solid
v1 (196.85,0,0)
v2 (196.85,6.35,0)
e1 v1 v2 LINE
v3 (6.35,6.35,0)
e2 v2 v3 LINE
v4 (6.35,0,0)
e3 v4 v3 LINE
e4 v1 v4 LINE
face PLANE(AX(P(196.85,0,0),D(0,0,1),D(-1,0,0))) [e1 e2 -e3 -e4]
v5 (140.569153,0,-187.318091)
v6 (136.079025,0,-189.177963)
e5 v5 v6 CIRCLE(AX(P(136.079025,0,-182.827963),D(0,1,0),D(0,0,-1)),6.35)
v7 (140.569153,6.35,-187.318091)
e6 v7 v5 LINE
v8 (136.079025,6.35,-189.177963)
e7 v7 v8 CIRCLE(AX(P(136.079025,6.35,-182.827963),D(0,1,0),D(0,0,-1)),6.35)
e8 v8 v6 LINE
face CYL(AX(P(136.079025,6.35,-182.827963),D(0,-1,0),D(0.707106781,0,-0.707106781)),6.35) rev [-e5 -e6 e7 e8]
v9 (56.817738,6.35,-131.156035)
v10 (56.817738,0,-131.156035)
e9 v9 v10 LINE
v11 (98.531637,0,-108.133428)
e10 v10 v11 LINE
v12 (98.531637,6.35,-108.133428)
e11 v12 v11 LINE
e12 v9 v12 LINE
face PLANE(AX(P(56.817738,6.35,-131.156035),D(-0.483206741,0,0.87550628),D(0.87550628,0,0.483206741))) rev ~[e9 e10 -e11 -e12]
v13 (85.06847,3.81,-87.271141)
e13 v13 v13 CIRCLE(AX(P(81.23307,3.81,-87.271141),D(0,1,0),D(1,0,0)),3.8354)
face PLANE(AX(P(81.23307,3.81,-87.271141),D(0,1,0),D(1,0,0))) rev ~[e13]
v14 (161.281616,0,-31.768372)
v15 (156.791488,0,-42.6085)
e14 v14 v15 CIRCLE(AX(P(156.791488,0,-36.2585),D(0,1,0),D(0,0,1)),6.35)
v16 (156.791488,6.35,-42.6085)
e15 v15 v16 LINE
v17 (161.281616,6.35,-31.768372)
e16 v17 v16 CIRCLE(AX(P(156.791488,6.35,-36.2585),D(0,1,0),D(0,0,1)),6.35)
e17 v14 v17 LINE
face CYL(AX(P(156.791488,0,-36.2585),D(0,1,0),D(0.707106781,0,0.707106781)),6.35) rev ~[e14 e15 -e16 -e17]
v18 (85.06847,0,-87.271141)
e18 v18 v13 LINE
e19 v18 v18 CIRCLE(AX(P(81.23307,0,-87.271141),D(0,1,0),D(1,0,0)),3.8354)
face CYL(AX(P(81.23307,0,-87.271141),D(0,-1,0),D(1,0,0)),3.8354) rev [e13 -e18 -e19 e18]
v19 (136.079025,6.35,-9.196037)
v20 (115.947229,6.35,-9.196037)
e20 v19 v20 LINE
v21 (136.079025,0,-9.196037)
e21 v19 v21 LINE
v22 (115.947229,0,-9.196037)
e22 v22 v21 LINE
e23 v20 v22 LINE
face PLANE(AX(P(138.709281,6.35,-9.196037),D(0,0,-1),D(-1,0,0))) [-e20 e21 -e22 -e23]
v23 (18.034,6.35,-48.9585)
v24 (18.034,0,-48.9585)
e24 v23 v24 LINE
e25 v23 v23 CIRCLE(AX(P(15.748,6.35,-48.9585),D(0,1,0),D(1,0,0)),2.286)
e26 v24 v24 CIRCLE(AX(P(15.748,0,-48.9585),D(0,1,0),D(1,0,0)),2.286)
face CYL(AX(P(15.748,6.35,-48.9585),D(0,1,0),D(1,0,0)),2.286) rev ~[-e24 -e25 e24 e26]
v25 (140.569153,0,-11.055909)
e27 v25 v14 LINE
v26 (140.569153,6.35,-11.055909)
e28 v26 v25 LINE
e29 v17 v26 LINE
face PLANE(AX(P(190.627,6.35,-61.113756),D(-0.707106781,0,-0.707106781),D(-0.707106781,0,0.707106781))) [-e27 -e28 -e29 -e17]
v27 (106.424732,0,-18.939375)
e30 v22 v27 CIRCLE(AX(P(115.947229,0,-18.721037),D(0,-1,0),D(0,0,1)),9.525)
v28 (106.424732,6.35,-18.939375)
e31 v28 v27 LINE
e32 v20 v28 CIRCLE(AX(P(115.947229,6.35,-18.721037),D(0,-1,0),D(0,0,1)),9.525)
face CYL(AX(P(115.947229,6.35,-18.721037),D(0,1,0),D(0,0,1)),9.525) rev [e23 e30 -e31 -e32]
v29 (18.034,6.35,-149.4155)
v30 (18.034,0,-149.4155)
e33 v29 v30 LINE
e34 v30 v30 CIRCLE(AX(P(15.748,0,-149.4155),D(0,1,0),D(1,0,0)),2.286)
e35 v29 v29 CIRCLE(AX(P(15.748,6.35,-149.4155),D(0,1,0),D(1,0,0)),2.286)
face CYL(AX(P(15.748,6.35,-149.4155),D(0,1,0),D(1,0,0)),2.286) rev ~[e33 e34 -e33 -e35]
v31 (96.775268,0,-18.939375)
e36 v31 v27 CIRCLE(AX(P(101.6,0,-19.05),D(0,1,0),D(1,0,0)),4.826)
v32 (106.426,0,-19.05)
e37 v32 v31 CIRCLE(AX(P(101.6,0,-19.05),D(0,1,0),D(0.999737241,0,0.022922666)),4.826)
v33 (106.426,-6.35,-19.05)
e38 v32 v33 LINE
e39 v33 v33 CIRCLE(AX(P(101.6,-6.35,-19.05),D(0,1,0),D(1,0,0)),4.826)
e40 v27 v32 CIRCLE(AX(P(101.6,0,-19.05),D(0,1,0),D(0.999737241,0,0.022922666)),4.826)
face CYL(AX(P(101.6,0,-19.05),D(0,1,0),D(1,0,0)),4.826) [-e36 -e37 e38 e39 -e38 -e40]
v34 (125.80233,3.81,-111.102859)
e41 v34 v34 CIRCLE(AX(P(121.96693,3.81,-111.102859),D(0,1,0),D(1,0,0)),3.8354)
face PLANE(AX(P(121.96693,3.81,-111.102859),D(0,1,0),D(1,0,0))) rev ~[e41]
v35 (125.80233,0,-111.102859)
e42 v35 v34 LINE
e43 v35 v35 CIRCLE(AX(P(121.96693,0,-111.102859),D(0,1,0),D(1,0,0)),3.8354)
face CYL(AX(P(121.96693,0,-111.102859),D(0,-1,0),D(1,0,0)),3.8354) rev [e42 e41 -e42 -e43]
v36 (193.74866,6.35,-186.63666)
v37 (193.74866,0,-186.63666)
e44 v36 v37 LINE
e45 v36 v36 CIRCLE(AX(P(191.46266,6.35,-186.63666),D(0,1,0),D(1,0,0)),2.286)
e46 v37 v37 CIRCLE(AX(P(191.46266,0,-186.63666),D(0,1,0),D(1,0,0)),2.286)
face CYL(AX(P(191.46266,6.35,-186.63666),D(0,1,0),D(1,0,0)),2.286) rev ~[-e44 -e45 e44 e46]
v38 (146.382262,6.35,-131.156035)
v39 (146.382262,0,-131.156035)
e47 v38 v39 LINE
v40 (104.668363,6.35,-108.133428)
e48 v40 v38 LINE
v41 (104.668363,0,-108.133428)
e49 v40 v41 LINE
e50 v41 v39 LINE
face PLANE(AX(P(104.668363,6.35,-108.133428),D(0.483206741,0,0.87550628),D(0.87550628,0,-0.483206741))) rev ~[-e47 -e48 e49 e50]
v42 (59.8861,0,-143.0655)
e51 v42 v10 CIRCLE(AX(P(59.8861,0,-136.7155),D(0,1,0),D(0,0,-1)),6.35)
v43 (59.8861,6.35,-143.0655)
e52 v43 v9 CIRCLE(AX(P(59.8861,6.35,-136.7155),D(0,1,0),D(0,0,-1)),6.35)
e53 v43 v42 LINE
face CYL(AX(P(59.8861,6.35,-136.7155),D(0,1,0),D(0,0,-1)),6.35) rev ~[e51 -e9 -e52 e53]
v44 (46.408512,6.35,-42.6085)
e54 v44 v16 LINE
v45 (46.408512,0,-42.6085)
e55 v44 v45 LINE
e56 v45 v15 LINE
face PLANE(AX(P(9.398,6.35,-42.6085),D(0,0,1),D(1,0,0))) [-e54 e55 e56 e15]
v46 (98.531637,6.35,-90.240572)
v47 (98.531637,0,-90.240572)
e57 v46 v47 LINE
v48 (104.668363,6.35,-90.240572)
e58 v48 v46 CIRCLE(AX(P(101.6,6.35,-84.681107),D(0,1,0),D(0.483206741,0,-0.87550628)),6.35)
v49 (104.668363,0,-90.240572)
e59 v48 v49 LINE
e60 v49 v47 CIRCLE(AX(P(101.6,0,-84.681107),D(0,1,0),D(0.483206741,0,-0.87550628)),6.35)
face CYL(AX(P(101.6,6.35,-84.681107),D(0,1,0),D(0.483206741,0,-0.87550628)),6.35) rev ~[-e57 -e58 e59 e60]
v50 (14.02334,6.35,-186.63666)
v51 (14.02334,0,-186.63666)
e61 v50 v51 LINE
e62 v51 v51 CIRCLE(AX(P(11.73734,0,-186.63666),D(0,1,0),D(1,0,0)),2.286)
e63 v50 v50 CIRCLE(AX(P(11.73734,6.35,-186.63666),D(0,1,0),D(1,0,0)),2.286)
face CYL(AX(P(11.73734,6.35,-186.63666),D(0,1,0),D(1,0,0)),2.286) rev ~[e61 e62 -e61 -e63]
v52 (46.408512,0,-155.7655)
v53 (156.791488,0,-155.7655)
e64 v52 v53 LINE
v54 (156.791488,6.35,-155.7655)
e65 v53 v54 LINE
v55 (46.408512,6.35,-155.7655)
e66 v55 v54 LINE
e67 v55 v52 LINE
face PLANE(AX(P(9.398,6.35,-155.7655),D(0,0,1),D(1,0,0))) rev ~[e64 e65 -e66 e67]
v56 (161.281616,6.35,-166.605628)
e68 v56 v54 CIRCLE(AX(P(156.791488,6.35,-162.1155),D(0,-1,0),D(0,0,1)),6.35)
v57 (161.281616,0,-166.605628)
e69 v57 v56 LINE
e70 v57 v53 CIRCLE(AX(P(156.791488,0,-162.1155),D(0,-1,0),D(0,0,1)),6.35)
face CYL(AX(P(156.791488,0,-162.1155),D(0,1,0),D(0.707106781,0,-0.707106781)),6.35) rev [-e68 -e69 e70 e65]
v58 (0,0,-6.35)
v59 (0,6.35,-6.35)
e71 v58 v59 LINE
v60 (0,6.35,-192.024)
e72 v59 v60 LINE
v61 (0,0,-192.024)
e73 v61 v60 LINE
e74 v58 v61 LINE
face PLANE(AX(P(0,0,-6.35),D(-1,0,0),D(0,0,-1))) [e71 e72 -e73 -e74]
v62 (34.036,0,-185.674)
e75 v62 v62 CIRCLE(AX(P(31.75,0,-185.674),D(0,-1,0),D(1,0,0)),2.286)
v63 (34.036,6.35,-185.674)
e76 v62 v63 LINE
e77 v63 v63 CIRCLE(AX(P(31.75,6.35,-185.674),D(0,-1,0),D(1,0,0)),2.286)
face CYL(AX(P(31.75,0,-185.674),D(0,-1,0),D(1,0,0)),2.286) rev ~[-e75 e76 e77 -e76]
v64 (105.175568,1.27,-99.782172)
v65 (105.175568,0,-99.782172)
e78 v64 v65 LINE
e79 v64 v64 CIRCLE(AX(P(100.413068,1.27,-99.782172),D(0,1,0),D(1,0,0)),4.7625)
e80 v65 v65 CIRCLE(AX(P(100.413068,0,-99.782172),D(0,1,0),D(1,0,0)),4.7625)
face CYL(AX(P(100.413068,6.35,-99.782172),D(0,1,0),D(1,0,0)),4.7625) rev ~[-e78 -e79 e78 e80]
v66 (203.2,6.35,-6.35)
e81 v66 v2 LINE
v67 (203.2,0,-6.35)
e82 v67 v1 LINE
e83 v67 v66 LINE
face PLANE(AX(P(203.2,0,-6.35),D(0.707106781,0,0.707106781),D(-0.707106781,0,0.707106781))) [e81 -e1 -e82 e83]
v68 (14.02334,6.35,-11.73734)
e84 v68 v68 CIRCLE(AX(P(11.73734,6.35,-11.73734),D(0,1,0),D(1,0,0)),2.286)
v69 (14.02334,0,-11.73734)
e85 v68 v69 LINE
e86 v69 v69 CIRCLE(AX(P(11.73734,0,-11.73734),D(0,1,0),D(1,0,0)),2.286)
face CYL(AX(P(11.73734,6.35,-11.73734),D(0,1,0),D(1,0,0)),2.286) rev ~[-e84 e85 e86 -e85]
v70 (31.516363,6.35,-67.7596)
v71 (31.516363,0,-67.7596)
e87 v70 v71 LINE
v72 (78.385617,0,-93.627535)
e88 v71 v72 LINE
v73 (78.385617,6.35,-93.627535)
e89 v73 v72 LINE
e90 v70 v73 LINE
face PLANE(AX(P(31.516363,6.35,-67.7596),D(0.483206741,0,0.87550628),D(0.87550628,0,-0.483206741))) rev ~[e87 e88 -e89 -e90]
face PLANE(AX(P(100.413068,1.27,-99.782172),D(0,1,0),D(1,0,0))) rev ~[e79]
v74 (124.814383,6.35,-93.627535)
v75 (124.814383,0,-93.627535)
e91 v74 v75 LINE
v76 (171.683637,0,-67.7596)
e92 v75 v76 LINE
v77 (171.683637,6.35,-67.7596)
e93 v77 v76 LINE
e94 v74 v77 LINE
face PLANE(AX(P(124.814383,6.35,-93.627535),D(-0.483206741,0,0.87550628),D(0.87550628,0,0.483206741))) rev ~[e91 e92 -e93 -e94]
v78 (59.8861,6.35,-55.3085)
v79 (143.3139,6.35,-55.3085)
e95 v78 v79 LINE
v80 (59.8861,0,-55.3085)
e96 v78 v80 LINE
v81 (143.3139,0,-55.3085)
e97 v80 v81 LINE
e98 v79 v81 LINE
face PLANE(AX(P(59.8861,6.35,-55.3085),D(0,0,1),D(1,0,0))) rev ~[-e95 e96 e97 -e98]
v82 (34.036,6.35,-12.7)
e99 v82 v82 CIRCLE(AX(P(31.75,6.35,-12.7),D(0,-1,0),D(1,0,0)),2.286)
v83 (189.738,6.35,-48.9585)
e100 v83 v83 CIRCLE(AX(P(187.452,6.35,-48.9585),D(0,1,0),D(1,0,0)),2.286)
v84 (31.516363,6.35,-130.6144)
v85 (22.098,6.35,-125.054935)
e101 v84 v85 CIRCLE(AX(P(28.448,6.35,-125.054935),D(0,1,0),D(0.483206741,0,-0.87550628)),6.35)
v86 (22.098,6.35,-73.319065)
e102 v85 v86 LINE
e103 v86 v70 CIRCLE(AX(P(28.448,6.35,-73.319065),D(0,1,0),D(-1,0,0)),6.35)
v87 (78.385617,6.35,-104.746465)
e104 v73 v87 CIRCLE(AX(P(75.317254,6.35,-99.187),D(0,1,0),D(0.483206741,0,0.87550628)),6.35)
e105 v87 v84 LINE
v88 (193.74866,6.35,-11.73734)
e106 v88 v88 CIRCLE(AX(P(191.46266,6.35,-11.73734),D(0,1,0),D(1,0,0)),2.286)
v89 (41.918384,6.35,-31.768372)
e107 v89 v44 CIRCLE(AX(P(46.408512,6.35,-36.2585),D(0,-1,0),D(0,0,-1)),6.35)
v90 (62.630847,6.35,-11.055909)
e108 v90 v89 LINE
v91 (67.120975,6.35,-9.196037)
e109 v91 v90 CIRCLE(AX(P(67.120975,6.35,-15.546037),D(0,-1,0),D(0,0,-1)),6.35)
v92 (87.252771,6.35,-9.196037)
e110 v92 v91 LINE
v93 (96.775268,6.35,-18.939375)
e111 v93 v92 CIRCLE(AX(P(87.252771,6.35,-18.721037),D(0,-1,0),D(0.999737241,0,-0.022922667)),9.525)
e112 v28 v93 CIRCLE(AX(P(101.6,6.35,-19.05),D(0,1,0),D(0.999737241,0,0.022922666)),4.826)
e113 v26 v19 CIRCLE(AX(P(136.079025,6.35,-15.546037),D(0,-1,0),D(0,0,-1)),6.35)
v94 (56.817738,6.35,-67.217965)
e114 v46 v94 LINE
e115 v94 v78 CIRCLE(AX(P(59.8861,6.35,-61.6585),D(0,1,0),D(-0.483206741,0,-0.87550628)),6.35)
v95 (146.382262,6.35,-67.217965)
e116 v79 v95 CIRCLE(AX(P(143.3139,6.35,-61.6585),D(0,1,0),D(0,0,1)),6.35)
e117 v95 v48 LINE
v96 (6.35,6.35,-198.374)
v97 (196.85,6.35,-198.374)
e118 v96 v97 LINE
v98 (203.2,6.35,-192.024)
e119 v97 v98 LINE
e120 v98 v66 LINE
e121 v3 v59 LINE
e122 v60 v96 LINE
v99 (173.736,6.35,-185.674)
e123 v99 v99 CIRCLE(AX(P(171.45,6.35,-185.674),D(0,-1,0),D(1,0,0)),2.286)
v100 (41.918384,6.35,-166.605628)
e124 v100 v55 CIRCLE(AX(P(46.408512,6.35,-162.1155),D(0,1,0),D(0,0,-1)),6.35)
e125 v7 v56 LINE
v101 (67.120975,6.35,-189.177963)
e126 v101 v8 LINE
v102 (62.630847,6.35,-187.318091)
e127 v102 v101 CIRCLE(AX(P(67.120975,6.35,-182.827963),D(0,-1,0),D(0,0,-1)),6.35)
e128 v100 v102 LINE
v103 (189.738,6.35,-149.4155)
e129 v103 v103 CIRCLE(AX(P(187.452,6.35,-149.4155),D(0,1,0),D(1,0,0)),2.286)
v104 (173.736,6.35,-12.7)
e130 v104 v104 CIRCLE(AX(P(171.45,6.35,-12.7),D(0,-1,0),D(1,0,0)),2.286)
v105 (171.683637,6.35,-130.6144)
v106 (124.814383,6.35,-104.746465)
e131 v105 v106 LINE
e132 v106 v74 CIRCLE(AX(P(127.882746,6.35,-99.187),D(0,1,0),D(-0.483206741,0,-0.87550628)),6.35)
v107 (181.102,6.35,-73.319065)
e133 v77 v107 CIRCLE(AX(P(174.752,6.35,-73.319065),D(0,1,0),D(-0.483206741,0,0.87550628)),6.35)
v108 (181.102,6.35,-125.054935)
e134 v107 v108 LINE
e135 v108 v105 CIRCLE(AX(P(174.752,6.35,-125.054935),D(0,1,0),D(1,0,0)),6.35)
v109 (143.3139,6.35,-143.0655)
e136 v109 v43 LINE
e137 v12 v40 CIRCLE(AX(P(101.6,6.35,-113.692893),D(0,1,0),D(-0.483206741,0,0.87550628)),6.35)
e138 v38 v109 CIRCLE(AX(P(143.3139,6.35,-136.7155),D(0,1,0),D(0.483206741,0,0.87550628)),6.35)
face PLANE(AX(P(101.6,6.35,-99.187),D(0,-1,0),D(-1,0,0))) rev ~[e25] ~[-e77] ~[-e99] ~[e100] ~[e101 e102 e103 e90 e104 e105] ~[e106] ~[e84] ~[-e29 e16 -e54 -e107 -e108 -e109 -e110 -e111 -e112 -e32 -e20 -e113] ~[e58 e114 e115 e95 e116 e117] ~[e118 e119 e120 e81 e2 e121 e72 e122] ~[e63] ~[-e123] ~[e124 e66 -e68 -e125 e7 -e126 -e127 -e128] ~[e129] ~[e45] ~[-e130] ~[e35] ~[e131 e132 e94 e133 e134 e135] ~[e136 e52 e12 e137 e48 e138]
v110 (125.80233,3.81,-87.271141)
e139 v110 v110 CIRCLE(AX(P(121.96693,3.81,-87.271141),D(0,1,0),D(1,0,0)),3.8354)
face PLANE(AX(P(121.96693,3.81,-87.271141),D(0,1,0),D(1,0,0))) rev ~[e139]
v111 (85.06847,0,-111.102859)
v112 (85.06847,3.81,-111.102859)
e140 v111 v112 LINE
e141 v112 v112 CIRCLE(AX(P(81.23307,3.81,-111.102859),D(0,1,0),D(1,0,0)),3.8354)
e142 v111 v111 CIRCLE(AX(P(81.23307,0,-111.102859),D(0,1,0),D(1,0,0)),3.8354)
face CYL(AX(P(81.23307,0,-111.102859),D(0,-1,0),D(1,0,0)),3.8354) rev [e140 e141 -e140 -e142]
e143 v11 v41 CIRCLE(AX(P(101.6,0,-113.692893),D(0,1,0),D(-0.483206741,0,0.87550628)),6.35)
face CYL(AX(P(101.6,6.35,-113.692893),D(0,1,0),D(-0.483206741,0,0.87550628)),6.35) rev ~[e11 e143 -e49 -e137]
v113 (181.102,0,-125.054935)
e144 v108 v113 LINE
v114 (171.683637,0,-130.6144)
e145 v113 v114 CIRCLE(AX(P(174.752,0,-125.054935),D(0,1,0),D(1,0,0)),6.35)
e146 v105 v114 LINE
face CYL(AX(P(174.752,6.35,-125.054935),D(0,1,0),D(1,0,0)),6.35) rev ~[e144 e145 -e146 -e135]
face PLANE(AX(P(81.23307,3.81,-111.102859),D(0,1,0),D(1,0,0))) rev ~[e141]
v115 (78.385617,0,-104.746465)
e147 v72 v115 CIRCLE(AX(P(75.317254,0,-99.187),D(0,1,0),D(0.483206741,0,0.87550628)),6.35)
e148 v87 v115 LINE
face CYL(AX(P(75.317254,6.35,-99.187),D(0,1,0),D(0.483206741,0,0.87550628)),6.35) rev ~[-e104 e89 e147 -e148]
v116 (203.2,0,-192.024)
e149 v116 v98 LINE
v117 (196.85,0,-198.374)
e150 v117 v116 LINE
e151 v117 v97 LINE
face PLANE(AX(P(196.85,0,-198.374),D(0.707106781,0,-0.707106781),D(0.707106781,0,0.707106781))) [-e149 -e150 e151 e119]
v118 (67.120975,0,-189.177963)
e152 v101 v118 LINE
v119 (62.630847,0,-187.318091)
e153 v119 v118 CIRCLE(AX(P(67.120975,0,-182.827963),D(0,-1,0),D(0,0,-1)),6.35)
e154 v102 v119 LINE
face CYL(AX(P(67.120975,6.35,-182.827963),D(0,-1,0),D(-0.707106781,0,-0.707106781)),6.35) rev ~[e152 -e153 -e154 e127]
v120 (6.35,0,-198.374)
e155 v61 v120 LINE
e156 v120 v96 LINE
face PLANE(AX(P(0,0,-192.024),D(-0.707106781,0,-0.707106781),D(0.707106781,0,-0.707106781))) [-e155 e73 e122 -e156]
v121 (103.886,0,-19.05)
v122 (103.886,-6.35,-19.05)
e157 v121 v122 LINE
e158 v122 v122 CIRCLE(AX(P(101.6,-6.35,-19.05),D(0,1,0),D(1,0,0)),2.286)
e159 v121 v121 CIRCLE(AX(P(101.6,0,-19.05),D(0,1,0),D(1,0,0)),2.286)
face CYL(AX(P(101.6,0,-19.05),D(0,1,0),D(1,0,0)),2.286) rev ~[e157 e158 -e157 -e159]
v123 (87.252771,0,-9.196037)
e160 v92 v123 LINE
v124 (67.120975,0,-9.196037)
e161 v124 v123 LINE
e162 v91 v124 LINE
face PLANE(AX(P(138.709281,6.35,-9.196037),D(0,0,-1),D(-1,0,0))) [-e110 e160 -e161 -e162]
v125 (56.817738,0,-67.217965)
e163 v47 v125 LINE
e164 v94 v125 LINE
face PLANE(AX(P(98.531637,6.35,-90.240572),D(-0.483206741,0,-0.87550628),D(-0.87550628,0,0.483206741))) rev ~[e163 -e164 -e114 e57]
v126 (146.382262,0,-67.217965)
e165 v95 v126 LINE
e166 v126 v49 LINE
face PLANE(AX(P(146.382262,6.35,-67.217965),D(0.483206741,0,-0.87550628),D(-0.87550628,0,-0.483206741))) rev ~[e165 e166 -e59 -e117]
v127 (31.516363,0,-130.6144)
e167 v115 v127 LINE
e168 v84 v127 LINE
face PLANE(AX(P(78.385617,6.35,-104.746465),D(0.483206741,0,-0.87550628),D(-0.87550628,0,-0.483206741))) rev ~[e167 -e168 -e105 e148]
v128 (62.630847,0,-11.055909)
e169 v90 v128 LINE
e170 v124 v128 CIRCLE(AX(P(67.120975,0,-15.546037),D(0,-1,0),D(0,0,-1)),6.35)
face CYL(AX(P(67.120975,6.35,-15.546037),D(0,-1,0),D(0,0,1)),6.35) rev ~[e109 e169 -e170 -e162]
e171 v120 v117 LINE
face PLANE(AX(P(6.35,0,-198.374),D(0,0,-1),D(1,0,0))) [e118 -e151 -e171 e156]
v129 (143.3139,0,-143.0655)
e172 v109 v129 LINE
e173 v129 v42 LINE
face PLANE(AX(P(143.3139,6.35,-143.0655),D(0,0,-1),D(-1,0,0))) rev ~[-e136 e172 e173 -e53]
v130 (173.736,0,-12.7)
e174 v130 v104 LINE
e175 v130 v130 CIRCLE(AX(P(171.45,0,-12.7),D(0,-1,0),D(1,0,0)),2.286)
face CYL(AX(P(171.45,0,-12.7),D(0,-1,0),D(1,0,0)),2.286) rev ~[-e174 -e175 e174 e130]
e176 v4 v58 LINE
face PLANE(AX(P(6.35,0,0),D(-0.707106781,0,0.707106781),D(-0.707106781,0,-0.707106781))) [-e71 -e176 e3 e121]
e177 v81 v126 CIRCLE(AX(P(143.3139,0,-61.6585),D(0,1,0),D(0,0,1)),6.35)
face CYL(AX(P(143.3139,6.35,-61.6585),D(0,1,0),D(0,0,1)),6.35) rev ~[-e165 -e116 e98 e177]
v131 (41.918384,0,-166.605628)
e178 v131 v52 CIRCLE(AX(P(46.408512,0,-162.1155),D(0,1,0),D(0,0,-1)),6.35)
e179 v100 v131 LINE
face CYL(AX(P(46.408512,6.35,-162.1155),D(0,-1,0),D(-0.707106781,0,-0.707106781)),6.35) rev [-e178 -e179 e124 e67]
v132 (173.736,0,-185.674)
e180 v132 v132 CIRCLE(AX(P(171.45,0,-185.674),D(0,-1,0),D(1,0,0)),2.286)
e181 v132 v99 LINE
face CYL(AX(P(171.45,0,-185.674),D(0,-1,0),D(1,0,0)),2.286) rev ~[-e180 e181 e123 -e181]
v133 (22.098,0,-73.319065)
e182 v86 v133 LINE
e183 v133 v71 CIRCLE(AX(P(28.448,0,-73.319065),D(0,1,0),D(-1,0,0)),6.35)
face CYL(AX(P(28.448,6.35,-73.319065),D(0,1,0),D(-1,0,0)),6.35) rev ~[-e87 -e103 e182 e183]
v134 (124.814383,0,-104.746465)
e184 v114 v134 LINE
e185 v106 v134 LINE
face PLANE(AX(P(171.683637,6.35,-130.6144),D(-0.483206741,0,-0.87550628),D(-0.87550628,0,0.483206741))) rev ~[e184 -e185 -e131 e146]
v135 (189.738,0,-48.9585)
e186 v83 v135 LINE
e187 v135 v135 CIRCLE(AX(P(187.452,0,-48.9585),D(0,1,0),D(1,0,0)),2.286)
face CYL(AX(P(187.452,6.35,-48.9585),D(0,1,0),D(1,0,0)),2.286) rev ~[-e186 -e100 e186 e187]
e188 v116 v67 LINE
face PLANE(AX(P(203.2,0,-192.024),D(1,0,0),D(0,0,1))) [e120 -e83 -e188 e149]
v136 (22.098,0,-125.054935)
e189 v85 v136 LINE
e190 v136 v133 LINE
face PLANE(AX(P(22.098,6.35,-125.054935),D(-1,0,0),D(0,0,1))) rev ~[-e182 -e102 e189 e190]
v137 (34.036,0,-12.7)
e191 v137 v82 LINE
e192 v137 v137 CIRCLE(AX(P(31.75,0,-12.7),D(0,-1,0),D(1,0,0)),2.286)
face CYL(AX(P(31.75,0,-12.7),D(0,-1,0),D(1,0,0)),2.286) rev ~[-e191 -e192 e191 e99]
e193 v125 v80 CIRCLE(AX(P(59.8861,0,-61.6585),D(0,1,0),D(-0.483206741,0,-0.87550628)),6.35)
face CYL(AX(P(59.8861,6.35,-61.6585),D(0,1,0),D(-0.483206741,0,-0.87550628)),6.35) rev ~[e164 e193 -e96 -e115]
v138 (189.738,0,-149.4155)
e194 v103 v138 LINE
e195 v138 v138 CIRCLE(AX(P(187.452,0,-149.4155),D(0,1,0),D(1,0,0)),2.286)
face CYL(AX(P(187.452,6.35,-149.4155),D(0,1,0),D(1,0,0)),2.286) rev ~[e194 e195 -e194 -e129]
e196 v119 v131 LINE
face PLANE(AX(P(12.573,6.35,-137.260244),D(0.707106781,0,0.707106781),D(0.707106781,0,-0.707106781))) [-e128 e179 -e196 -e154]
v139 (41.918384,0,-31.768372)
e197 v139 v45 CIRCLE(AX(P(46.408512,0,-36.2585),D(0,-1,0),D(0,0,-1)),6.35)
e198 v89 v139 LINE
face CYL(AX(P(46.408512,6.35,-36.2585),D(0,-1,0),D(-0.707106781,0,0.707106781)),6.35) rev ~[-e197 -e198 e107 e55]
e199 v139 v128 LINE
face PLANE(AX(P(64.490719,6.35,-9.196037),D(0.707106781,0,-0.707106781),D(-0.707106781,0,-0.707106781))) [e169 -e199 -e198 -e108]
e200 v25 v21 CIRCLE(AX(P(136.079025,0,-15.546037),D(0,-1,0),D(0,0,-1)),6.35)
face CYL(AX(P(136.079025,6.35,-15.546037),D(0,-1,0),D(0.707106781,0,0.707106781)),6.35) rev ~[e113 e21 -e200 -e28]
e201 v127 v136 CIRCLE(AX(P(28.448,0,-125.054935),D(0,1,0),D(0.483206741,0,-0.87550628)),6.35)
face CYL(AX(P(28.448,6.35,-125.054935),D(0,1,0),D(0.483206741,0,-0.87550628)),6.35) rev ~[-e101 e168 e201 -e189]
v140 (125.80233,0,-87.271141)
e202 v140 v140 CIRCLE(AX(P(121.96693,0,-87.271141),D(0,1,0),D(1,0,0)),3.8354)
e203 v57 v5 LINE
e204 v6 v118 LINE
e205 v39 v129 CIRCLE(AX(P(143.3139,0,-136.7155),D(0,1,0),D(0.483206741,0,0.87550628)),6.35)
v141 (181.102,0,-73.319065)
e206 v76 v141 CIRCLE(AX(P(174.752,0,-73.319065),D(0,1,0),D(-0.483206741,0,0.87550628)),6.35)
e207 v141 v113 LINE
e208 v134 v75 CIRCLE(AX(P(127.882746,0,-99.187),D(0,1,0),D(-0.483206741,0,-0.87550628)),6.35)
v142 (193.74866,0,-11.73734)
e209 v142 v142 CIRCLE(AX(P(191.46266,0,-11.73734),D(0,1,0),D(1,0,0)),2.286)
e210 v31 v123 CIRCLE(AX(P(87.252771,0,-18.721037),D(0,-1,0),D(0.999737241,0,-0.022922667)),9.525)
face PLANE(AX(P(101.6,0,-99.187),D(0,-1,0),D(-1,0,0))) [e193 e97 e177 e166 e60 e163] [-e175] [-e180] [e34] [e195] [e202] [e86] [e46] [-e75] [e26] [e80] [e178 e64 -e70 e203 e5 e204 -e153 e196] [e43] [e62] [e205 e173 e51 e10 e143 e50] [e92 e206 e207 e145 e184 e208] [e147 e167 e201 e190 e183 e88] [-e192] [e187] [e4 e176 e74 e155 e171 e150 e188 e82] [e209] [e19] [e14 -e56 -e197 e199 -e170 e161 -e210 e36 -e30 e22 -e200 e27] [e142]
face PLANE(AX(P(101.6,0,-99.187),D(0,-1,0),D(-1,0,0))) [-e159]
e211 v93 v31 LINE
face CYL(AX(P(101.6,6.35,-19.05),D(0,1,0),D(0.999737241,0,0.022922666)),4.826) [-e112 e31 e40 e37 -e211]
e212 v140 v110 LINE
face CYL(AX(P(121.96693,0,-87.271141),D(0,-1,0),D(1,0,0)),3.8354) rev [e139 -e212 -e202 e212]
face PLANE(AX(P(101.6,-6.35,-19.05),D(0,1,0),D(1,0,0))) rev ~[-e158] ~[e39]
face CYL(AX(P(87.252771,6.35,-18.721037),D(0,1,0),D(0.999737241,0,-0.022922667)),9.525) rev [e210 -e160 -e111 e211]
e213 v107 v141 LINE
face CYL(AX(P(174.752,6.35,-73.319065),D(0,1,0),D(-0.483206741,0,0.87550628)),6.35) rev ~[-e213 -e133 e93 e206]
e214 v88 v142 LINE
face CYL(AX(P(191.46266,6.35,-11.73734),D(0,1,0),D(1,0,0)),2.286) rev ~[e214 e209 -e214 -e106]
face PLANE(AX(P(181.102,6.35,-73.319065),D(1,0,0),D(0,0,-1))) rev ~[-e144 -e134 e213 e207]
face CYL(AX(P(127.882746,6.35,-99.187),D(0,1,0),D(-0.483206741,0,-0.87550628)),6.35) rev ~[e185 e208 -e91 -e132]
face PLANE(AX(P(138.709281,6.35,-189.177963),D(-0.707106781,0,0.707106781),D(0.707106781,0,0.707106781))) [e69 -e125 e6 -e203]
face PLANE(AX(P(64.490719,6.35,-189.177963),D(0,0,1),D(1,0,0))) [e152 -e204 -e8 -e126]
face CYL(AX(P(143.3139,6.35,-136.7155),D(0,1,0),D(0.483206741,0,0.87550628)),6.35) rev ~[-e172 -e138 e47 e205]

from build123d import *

# Parameters (mm, degrees)
BOSS_EXTRUDE1_DEPTH     = 6.35
SKETCH3_R               = 2.286
CUT_EXTRUDE2_DEPTH      = 7.35
SKETCH4_R               = 2.286
CUT_EXTRUDE3_DEPTH      = 7.35
SKETCH5_W               = 184.404
SKETCH5_H               = 113.157
SKETCH5_R               = 2.286
BOSS_EXTRUDE2_DEPTH     = 6.35
FILLET1_R               = 6.35
BOSS_EXTRUDE3_DEPTH     = 6.35
SKETCH8_R               = 4.826
SKETCH8_R_2             = 2.286
BOSS_EXTRUDE4_DEPTH     = 6.35
SKETCH9_R               = 3.8354
CUT_EXTRUDE4_DEPTH      = 3.81
SKETCH11_R              = 2.286
CUT_EXTRUDE6_DEPTH      = 7.35
CUT_EXTRUDE6_DEPTH_BACK = 7.35
SKETCH12_R              = 4.7625
CUT_EXTRUDE7_DEPTH      = 6.35
SKETCH16_W              = 12.7
SKETCH16_H              = 12.7
BOSS_EXTRUDE6_DEPTH     = 5.08


with BuildPart() as part:
    # Sketch1 → Boss-Extrude1 (new body)
    with BuildSketch(Plane(origin=(0, 0, 0), x_dir=(1, 0, 0), z_dir=(0, 1, 0))):
        Polygon((0, 192.024), (6.35, 198.374), (196.85, 198.374), (203.2, 192.024), (203.2, 6.35), (196.85, 0), (6.35, 0), (0, 6.35), align=None)
    extrude(amount=BOSS_EXTRUDE1_DEPTH)

    # Sketch3 → Cut-Extrude2 (cut, through all)
    with BuildSketch(Plane(origin=(0, 6.35, 0), x_dir=(1, 0, 0), z_dir=(0, 1, 0))):
        with Locations((11.73734, 11.73734)):
            Circle(SKETCH3_R)
        with Locations((191.46266, 11.73734)):
            Circle(SKETCH3_R)
        with Locations((191.46266, 186.63666)):
            Circle(SKETCH3_R)
        with Locations((11.73734, 186.63666)):
            Circle(SKETCH3_R)
    extrude(amount=-CUT_EXTRUDE2_DEPTH, mode=Mode.SUBTRACT)

    # Sketch4 → Cut-Extrude3 (cut, through all)
    with BuildSketch(Plane(origin=(0, 6.35, 0), x_dir=(1, 0, 0), z_dir=(0, 1, 0))):
        with Locations((15.748, 149.4155)):
            Circle(SKETCH4_R)
        with Locations((187.452, 149.4155)):
            Circle(SKETCH4_R)
        with Locations((187.452, 48.9585)):
            Circle(SKETCH4_R)
        with Locations((15.748, 48.9585)):
            Circle(SKETCH4_R)
        Polygon((12.573, 137.260243879), (64.490719308, 189.177963187), (138.709280692, 189.177963187), (190.627, 137.260243879), (190.627, 61.113756121), (138.709280692, 9.196036813), (64.490719308, 9.196036813), (12.573, 61.113756121), align=None)
    extrude(amount=-CUT_EXTRUDE3_DEPTH, mode=Mode.SUBTRACT)

    # Sketch5 → Boss-Extrude2 (add)
    with BuildSketch(Plane(origin=(0, 6.35, 0), x_dir=(1, 0, 0), z_dir=(0, 1, 0))):
        with Locations((101.6, 99.187)):
            Rectangle(SKETCH5_W, SKETCH5_H)
        with Locations((187.452, 48.9585)):
            Circle(SKETCH5_R, mode=Mode.SUBTRACT)
        with Locations((187.452, 149.4155)):
            Circle(SKETCH5_R, mode=Mode.SUBTRACT)
        with Locations((15.748, 149.4155)):
            Circle(SKETCH5_R, mode=Mode.SUBTRACT)
        with Locations((15.748, 48.9585)):
            Circle(SKETCH5_R, mode=Mode.SUBTRACT)
        with BuildLine():
            Line((143.313899503, 143.0655), (59.886100497, 143.0655))
            ThreePointArc((59.886100497, 143.0655), (53.736909414, 138.299781862), (56.817737694, 131.156035124))
            Line((56.817737694, 131.156035124), (98.531637197, 108.133427651))
            ThreePointArc((98.531637197, 108.133427651), (101.6, 107.342892527), (104.668362803, 108.133427651))
            Line((104.668362803, 108.133427651), (146.382262306, 131.156035124))
            ThreePointArc((146.382262306, 131.156035124), (149.463090586, 138.299781862), (143.313899503, 143.0655))
        make_face(mode=Mode.SUBTRACT)
        with BuildLine():
            Line((22.098, 125.054934949), (22.098, 73.319065051))
            ThreePointArc((22.098, 73.319065051), (25.220121734, 67.850673889), (31.516362803, 67.759600175))
            Line((31.516362803, 67.759600175), (78.385616864, 93.627535124))
            ThreePointArc((78.385616864, 93.627535124), (81.667254061, 99.187), (78.385616864, 104.746464876))
            Line((78.385616864, 104.746464876), (31.516362803, 130.614399825))
            ThreePointArc((31.516362803, 130.614399825), (25.220121734, 130.523326111), (22.098, 125.054934949))
        make_face(mode=Mode.SUBTRACT)
        with BuildLine():
            Line((59.886100497, 55.3085), (143.313899503, 55.3085))
            ThreePointArc((143.313899503, 55.3085), (149.463090586, 60.074218138), (146.382262306, 67.217964876))
            Line((146.382262306, 67.217964876), (104.668362803, 90.240572349))
            ThreePointArc((104.668362803, 90.240572349), (101.6, 91.031107473), (98.531637197, 90.240572349))
            Line((98.531637197, 90.240572349), (56.817737694, 67.217964876))
            ThreePointArc((56.817737694, 67.217964876), (53.736909414, 60.074218138), (59.886100497, 55.3085))
        make_face(mode=Mode.SUBTRACT)
        with BuildLine():
            Line((181.102, 73.319065051), (181.102, 125.054934949))
            ThreePointArc((181.102, 125.054934949), (177.979878266, 130.523326111), (171.683637197, 130.614399825))
            Line((171.683637197, 130.614399825), (124.814383136, 104.746464876))
            ThreePointArc((124.814383136, 104.746464876), (121.532745939, 99.187), (124.814383136, 93.627535124))
            Line((124.814383136, 93.627535124), (171.683637197, 67.759600175))
            ThreePointArc((171.683637197, 67.759600175), (177.979878266, 67.850673889), (181.102, 73.319065051))
        make_face(mode=Mode.SUBTRACT)
    extrude(amount=-BOSS_EXTRUDE2_DEPTH)

    # Fillet1
    fillet1_edges = [part.edges().sort_by_distance(p)[0] for p in [
        (64.490719308, 3.175, -189.177963187),
        (138.709280692, 3.175, -189.177963187),
        (138.709280692, 3.175, -9.196036813),
        (64.490719308, 3.175, -9.196036813),
        (31.078256121, 3.175, -42.6085),
        (172.121743879, 3.175, -155.7655),
        (31.078256121, 3.175, -155.7655),
        (172.121743879, 3.175, -42.6085),
    ]]
    fillet(fillet1_edges, radius=FILLET1_R)

    # Sketch6 → Boss-Extrude3 (add)
    with BuildSketch(Plane(origin=(0, 6.35, 0), x_dir=(1, 0, 0), z_dir=(0, 1, 0))):
        with BuildLine():
            Line((87.252770852, 9.196036813), (115.947229148, 9.196036813))
            ThreePointArc((115.947229148, 9.196036813), (109.135280152, 12.063486522), (106.424731926, 18.939375212))
            ThreePointArc((106.424731926, 18.939375212), (101.6, 23.876), (96.775268074, 18.939375212))
            ThreePointArc((96.775268074, 18.939375212), (94.064719848, 12.063486522), (87.252770852, 9.196036813))
        make_face()
    extrude(amount=-BOSS_EXTRUDE3_DEPTH)

    # Sketch8 → Boss-Extrude4 (add)
    with BuildSketch(Plane(origin=(0, 0, 0), x_dir=(1, 0, 0), z_dir=(0, 1, 0))):
        with Locations((101.6, 19.05)):
            Circle(SKETCH8_R)
        with Locations((101.6, 19.05)):
            Circle(SKETCH8_R_2, mode=Mode.SUBTRACT)
    extrude(amount=-BOSS_EXTRUDE4_DEPTH)

    # Sketch9 → Cut-Extrude4 (cut)
    with BuildSketch(Plane(origin=(0, 0, 0), x_dir=(1, 0, 0), z_dir=(0, 1, 0))):
        with Locations((81.233070117, 111.102859125)):
            Circle(SKETCH9_R)
        with Locations((121.966929883, 111.102859125)):
            Circle(SKETCH9_R)
        with Locations((121.966929883, 87.271140875)):
            Circle(SKETCH9_R)
        with Locations((81.233070117, 87.271140875)):
            Circle(SKETCH9_R)
    extrude(amount=CUT_EXTRUDE4_DEPTH, mode=Mode.SUBTRACT)

    # Sketch11 → Cut-Extrude6 (cut, two sides)
    with BuildSketch(Plane.XZ) as cut_extrude6_sk:
        with Locations((31.75, -12.7)):
            Circle(SKETCH11_R)
        with Locations((171.45, -12.7)):
            Circle(SKETCH11_R)
        with Locations((171.45, -185.674)):
            Circle(SKETCH11_R)
        with Locations((31.75, -185.674)):
            Circle(SKETCH11_R)
    extrude(amount=CUT_EXTRUDE6_DEPTH, mode=Mode.SUBTRACT)
    extrude(cut_extrude6_sk.sketch, amount=-CUT_EXTRUDE6_DEPTH_BACK, mode=Mode.SUBTRACT)

    # Sketch12 → Cut-Extrude7 (cut)
    with BuildSketch(Plane(origin=(0, 6.35, 0), x_dir=(1, 0, 0), z_dir=(0, 1, 0))):
        with Locations((100.413067708, 99.782171875)):
            Circle(SKETCH12_R)
    extrude(amount=-CUT_EXTRUDE7_DEPTH, mode=Mode.SUBTRACT)

    # Sketch16 → Boss-Extrude6 (add)
    with BuildSketch(Plane(origin=(0, 6.35, 0), x_dir=(1, 0, 0), z_dir=(0, 1, 0))):
        with Locations((100.413067708, 99.782171875)):
            Rectangle(SKETCH16_W, SKETCH16_H)
    extrude(amount=-BOSS_EXTRUDE6_DEPTH)


solid = part.part
